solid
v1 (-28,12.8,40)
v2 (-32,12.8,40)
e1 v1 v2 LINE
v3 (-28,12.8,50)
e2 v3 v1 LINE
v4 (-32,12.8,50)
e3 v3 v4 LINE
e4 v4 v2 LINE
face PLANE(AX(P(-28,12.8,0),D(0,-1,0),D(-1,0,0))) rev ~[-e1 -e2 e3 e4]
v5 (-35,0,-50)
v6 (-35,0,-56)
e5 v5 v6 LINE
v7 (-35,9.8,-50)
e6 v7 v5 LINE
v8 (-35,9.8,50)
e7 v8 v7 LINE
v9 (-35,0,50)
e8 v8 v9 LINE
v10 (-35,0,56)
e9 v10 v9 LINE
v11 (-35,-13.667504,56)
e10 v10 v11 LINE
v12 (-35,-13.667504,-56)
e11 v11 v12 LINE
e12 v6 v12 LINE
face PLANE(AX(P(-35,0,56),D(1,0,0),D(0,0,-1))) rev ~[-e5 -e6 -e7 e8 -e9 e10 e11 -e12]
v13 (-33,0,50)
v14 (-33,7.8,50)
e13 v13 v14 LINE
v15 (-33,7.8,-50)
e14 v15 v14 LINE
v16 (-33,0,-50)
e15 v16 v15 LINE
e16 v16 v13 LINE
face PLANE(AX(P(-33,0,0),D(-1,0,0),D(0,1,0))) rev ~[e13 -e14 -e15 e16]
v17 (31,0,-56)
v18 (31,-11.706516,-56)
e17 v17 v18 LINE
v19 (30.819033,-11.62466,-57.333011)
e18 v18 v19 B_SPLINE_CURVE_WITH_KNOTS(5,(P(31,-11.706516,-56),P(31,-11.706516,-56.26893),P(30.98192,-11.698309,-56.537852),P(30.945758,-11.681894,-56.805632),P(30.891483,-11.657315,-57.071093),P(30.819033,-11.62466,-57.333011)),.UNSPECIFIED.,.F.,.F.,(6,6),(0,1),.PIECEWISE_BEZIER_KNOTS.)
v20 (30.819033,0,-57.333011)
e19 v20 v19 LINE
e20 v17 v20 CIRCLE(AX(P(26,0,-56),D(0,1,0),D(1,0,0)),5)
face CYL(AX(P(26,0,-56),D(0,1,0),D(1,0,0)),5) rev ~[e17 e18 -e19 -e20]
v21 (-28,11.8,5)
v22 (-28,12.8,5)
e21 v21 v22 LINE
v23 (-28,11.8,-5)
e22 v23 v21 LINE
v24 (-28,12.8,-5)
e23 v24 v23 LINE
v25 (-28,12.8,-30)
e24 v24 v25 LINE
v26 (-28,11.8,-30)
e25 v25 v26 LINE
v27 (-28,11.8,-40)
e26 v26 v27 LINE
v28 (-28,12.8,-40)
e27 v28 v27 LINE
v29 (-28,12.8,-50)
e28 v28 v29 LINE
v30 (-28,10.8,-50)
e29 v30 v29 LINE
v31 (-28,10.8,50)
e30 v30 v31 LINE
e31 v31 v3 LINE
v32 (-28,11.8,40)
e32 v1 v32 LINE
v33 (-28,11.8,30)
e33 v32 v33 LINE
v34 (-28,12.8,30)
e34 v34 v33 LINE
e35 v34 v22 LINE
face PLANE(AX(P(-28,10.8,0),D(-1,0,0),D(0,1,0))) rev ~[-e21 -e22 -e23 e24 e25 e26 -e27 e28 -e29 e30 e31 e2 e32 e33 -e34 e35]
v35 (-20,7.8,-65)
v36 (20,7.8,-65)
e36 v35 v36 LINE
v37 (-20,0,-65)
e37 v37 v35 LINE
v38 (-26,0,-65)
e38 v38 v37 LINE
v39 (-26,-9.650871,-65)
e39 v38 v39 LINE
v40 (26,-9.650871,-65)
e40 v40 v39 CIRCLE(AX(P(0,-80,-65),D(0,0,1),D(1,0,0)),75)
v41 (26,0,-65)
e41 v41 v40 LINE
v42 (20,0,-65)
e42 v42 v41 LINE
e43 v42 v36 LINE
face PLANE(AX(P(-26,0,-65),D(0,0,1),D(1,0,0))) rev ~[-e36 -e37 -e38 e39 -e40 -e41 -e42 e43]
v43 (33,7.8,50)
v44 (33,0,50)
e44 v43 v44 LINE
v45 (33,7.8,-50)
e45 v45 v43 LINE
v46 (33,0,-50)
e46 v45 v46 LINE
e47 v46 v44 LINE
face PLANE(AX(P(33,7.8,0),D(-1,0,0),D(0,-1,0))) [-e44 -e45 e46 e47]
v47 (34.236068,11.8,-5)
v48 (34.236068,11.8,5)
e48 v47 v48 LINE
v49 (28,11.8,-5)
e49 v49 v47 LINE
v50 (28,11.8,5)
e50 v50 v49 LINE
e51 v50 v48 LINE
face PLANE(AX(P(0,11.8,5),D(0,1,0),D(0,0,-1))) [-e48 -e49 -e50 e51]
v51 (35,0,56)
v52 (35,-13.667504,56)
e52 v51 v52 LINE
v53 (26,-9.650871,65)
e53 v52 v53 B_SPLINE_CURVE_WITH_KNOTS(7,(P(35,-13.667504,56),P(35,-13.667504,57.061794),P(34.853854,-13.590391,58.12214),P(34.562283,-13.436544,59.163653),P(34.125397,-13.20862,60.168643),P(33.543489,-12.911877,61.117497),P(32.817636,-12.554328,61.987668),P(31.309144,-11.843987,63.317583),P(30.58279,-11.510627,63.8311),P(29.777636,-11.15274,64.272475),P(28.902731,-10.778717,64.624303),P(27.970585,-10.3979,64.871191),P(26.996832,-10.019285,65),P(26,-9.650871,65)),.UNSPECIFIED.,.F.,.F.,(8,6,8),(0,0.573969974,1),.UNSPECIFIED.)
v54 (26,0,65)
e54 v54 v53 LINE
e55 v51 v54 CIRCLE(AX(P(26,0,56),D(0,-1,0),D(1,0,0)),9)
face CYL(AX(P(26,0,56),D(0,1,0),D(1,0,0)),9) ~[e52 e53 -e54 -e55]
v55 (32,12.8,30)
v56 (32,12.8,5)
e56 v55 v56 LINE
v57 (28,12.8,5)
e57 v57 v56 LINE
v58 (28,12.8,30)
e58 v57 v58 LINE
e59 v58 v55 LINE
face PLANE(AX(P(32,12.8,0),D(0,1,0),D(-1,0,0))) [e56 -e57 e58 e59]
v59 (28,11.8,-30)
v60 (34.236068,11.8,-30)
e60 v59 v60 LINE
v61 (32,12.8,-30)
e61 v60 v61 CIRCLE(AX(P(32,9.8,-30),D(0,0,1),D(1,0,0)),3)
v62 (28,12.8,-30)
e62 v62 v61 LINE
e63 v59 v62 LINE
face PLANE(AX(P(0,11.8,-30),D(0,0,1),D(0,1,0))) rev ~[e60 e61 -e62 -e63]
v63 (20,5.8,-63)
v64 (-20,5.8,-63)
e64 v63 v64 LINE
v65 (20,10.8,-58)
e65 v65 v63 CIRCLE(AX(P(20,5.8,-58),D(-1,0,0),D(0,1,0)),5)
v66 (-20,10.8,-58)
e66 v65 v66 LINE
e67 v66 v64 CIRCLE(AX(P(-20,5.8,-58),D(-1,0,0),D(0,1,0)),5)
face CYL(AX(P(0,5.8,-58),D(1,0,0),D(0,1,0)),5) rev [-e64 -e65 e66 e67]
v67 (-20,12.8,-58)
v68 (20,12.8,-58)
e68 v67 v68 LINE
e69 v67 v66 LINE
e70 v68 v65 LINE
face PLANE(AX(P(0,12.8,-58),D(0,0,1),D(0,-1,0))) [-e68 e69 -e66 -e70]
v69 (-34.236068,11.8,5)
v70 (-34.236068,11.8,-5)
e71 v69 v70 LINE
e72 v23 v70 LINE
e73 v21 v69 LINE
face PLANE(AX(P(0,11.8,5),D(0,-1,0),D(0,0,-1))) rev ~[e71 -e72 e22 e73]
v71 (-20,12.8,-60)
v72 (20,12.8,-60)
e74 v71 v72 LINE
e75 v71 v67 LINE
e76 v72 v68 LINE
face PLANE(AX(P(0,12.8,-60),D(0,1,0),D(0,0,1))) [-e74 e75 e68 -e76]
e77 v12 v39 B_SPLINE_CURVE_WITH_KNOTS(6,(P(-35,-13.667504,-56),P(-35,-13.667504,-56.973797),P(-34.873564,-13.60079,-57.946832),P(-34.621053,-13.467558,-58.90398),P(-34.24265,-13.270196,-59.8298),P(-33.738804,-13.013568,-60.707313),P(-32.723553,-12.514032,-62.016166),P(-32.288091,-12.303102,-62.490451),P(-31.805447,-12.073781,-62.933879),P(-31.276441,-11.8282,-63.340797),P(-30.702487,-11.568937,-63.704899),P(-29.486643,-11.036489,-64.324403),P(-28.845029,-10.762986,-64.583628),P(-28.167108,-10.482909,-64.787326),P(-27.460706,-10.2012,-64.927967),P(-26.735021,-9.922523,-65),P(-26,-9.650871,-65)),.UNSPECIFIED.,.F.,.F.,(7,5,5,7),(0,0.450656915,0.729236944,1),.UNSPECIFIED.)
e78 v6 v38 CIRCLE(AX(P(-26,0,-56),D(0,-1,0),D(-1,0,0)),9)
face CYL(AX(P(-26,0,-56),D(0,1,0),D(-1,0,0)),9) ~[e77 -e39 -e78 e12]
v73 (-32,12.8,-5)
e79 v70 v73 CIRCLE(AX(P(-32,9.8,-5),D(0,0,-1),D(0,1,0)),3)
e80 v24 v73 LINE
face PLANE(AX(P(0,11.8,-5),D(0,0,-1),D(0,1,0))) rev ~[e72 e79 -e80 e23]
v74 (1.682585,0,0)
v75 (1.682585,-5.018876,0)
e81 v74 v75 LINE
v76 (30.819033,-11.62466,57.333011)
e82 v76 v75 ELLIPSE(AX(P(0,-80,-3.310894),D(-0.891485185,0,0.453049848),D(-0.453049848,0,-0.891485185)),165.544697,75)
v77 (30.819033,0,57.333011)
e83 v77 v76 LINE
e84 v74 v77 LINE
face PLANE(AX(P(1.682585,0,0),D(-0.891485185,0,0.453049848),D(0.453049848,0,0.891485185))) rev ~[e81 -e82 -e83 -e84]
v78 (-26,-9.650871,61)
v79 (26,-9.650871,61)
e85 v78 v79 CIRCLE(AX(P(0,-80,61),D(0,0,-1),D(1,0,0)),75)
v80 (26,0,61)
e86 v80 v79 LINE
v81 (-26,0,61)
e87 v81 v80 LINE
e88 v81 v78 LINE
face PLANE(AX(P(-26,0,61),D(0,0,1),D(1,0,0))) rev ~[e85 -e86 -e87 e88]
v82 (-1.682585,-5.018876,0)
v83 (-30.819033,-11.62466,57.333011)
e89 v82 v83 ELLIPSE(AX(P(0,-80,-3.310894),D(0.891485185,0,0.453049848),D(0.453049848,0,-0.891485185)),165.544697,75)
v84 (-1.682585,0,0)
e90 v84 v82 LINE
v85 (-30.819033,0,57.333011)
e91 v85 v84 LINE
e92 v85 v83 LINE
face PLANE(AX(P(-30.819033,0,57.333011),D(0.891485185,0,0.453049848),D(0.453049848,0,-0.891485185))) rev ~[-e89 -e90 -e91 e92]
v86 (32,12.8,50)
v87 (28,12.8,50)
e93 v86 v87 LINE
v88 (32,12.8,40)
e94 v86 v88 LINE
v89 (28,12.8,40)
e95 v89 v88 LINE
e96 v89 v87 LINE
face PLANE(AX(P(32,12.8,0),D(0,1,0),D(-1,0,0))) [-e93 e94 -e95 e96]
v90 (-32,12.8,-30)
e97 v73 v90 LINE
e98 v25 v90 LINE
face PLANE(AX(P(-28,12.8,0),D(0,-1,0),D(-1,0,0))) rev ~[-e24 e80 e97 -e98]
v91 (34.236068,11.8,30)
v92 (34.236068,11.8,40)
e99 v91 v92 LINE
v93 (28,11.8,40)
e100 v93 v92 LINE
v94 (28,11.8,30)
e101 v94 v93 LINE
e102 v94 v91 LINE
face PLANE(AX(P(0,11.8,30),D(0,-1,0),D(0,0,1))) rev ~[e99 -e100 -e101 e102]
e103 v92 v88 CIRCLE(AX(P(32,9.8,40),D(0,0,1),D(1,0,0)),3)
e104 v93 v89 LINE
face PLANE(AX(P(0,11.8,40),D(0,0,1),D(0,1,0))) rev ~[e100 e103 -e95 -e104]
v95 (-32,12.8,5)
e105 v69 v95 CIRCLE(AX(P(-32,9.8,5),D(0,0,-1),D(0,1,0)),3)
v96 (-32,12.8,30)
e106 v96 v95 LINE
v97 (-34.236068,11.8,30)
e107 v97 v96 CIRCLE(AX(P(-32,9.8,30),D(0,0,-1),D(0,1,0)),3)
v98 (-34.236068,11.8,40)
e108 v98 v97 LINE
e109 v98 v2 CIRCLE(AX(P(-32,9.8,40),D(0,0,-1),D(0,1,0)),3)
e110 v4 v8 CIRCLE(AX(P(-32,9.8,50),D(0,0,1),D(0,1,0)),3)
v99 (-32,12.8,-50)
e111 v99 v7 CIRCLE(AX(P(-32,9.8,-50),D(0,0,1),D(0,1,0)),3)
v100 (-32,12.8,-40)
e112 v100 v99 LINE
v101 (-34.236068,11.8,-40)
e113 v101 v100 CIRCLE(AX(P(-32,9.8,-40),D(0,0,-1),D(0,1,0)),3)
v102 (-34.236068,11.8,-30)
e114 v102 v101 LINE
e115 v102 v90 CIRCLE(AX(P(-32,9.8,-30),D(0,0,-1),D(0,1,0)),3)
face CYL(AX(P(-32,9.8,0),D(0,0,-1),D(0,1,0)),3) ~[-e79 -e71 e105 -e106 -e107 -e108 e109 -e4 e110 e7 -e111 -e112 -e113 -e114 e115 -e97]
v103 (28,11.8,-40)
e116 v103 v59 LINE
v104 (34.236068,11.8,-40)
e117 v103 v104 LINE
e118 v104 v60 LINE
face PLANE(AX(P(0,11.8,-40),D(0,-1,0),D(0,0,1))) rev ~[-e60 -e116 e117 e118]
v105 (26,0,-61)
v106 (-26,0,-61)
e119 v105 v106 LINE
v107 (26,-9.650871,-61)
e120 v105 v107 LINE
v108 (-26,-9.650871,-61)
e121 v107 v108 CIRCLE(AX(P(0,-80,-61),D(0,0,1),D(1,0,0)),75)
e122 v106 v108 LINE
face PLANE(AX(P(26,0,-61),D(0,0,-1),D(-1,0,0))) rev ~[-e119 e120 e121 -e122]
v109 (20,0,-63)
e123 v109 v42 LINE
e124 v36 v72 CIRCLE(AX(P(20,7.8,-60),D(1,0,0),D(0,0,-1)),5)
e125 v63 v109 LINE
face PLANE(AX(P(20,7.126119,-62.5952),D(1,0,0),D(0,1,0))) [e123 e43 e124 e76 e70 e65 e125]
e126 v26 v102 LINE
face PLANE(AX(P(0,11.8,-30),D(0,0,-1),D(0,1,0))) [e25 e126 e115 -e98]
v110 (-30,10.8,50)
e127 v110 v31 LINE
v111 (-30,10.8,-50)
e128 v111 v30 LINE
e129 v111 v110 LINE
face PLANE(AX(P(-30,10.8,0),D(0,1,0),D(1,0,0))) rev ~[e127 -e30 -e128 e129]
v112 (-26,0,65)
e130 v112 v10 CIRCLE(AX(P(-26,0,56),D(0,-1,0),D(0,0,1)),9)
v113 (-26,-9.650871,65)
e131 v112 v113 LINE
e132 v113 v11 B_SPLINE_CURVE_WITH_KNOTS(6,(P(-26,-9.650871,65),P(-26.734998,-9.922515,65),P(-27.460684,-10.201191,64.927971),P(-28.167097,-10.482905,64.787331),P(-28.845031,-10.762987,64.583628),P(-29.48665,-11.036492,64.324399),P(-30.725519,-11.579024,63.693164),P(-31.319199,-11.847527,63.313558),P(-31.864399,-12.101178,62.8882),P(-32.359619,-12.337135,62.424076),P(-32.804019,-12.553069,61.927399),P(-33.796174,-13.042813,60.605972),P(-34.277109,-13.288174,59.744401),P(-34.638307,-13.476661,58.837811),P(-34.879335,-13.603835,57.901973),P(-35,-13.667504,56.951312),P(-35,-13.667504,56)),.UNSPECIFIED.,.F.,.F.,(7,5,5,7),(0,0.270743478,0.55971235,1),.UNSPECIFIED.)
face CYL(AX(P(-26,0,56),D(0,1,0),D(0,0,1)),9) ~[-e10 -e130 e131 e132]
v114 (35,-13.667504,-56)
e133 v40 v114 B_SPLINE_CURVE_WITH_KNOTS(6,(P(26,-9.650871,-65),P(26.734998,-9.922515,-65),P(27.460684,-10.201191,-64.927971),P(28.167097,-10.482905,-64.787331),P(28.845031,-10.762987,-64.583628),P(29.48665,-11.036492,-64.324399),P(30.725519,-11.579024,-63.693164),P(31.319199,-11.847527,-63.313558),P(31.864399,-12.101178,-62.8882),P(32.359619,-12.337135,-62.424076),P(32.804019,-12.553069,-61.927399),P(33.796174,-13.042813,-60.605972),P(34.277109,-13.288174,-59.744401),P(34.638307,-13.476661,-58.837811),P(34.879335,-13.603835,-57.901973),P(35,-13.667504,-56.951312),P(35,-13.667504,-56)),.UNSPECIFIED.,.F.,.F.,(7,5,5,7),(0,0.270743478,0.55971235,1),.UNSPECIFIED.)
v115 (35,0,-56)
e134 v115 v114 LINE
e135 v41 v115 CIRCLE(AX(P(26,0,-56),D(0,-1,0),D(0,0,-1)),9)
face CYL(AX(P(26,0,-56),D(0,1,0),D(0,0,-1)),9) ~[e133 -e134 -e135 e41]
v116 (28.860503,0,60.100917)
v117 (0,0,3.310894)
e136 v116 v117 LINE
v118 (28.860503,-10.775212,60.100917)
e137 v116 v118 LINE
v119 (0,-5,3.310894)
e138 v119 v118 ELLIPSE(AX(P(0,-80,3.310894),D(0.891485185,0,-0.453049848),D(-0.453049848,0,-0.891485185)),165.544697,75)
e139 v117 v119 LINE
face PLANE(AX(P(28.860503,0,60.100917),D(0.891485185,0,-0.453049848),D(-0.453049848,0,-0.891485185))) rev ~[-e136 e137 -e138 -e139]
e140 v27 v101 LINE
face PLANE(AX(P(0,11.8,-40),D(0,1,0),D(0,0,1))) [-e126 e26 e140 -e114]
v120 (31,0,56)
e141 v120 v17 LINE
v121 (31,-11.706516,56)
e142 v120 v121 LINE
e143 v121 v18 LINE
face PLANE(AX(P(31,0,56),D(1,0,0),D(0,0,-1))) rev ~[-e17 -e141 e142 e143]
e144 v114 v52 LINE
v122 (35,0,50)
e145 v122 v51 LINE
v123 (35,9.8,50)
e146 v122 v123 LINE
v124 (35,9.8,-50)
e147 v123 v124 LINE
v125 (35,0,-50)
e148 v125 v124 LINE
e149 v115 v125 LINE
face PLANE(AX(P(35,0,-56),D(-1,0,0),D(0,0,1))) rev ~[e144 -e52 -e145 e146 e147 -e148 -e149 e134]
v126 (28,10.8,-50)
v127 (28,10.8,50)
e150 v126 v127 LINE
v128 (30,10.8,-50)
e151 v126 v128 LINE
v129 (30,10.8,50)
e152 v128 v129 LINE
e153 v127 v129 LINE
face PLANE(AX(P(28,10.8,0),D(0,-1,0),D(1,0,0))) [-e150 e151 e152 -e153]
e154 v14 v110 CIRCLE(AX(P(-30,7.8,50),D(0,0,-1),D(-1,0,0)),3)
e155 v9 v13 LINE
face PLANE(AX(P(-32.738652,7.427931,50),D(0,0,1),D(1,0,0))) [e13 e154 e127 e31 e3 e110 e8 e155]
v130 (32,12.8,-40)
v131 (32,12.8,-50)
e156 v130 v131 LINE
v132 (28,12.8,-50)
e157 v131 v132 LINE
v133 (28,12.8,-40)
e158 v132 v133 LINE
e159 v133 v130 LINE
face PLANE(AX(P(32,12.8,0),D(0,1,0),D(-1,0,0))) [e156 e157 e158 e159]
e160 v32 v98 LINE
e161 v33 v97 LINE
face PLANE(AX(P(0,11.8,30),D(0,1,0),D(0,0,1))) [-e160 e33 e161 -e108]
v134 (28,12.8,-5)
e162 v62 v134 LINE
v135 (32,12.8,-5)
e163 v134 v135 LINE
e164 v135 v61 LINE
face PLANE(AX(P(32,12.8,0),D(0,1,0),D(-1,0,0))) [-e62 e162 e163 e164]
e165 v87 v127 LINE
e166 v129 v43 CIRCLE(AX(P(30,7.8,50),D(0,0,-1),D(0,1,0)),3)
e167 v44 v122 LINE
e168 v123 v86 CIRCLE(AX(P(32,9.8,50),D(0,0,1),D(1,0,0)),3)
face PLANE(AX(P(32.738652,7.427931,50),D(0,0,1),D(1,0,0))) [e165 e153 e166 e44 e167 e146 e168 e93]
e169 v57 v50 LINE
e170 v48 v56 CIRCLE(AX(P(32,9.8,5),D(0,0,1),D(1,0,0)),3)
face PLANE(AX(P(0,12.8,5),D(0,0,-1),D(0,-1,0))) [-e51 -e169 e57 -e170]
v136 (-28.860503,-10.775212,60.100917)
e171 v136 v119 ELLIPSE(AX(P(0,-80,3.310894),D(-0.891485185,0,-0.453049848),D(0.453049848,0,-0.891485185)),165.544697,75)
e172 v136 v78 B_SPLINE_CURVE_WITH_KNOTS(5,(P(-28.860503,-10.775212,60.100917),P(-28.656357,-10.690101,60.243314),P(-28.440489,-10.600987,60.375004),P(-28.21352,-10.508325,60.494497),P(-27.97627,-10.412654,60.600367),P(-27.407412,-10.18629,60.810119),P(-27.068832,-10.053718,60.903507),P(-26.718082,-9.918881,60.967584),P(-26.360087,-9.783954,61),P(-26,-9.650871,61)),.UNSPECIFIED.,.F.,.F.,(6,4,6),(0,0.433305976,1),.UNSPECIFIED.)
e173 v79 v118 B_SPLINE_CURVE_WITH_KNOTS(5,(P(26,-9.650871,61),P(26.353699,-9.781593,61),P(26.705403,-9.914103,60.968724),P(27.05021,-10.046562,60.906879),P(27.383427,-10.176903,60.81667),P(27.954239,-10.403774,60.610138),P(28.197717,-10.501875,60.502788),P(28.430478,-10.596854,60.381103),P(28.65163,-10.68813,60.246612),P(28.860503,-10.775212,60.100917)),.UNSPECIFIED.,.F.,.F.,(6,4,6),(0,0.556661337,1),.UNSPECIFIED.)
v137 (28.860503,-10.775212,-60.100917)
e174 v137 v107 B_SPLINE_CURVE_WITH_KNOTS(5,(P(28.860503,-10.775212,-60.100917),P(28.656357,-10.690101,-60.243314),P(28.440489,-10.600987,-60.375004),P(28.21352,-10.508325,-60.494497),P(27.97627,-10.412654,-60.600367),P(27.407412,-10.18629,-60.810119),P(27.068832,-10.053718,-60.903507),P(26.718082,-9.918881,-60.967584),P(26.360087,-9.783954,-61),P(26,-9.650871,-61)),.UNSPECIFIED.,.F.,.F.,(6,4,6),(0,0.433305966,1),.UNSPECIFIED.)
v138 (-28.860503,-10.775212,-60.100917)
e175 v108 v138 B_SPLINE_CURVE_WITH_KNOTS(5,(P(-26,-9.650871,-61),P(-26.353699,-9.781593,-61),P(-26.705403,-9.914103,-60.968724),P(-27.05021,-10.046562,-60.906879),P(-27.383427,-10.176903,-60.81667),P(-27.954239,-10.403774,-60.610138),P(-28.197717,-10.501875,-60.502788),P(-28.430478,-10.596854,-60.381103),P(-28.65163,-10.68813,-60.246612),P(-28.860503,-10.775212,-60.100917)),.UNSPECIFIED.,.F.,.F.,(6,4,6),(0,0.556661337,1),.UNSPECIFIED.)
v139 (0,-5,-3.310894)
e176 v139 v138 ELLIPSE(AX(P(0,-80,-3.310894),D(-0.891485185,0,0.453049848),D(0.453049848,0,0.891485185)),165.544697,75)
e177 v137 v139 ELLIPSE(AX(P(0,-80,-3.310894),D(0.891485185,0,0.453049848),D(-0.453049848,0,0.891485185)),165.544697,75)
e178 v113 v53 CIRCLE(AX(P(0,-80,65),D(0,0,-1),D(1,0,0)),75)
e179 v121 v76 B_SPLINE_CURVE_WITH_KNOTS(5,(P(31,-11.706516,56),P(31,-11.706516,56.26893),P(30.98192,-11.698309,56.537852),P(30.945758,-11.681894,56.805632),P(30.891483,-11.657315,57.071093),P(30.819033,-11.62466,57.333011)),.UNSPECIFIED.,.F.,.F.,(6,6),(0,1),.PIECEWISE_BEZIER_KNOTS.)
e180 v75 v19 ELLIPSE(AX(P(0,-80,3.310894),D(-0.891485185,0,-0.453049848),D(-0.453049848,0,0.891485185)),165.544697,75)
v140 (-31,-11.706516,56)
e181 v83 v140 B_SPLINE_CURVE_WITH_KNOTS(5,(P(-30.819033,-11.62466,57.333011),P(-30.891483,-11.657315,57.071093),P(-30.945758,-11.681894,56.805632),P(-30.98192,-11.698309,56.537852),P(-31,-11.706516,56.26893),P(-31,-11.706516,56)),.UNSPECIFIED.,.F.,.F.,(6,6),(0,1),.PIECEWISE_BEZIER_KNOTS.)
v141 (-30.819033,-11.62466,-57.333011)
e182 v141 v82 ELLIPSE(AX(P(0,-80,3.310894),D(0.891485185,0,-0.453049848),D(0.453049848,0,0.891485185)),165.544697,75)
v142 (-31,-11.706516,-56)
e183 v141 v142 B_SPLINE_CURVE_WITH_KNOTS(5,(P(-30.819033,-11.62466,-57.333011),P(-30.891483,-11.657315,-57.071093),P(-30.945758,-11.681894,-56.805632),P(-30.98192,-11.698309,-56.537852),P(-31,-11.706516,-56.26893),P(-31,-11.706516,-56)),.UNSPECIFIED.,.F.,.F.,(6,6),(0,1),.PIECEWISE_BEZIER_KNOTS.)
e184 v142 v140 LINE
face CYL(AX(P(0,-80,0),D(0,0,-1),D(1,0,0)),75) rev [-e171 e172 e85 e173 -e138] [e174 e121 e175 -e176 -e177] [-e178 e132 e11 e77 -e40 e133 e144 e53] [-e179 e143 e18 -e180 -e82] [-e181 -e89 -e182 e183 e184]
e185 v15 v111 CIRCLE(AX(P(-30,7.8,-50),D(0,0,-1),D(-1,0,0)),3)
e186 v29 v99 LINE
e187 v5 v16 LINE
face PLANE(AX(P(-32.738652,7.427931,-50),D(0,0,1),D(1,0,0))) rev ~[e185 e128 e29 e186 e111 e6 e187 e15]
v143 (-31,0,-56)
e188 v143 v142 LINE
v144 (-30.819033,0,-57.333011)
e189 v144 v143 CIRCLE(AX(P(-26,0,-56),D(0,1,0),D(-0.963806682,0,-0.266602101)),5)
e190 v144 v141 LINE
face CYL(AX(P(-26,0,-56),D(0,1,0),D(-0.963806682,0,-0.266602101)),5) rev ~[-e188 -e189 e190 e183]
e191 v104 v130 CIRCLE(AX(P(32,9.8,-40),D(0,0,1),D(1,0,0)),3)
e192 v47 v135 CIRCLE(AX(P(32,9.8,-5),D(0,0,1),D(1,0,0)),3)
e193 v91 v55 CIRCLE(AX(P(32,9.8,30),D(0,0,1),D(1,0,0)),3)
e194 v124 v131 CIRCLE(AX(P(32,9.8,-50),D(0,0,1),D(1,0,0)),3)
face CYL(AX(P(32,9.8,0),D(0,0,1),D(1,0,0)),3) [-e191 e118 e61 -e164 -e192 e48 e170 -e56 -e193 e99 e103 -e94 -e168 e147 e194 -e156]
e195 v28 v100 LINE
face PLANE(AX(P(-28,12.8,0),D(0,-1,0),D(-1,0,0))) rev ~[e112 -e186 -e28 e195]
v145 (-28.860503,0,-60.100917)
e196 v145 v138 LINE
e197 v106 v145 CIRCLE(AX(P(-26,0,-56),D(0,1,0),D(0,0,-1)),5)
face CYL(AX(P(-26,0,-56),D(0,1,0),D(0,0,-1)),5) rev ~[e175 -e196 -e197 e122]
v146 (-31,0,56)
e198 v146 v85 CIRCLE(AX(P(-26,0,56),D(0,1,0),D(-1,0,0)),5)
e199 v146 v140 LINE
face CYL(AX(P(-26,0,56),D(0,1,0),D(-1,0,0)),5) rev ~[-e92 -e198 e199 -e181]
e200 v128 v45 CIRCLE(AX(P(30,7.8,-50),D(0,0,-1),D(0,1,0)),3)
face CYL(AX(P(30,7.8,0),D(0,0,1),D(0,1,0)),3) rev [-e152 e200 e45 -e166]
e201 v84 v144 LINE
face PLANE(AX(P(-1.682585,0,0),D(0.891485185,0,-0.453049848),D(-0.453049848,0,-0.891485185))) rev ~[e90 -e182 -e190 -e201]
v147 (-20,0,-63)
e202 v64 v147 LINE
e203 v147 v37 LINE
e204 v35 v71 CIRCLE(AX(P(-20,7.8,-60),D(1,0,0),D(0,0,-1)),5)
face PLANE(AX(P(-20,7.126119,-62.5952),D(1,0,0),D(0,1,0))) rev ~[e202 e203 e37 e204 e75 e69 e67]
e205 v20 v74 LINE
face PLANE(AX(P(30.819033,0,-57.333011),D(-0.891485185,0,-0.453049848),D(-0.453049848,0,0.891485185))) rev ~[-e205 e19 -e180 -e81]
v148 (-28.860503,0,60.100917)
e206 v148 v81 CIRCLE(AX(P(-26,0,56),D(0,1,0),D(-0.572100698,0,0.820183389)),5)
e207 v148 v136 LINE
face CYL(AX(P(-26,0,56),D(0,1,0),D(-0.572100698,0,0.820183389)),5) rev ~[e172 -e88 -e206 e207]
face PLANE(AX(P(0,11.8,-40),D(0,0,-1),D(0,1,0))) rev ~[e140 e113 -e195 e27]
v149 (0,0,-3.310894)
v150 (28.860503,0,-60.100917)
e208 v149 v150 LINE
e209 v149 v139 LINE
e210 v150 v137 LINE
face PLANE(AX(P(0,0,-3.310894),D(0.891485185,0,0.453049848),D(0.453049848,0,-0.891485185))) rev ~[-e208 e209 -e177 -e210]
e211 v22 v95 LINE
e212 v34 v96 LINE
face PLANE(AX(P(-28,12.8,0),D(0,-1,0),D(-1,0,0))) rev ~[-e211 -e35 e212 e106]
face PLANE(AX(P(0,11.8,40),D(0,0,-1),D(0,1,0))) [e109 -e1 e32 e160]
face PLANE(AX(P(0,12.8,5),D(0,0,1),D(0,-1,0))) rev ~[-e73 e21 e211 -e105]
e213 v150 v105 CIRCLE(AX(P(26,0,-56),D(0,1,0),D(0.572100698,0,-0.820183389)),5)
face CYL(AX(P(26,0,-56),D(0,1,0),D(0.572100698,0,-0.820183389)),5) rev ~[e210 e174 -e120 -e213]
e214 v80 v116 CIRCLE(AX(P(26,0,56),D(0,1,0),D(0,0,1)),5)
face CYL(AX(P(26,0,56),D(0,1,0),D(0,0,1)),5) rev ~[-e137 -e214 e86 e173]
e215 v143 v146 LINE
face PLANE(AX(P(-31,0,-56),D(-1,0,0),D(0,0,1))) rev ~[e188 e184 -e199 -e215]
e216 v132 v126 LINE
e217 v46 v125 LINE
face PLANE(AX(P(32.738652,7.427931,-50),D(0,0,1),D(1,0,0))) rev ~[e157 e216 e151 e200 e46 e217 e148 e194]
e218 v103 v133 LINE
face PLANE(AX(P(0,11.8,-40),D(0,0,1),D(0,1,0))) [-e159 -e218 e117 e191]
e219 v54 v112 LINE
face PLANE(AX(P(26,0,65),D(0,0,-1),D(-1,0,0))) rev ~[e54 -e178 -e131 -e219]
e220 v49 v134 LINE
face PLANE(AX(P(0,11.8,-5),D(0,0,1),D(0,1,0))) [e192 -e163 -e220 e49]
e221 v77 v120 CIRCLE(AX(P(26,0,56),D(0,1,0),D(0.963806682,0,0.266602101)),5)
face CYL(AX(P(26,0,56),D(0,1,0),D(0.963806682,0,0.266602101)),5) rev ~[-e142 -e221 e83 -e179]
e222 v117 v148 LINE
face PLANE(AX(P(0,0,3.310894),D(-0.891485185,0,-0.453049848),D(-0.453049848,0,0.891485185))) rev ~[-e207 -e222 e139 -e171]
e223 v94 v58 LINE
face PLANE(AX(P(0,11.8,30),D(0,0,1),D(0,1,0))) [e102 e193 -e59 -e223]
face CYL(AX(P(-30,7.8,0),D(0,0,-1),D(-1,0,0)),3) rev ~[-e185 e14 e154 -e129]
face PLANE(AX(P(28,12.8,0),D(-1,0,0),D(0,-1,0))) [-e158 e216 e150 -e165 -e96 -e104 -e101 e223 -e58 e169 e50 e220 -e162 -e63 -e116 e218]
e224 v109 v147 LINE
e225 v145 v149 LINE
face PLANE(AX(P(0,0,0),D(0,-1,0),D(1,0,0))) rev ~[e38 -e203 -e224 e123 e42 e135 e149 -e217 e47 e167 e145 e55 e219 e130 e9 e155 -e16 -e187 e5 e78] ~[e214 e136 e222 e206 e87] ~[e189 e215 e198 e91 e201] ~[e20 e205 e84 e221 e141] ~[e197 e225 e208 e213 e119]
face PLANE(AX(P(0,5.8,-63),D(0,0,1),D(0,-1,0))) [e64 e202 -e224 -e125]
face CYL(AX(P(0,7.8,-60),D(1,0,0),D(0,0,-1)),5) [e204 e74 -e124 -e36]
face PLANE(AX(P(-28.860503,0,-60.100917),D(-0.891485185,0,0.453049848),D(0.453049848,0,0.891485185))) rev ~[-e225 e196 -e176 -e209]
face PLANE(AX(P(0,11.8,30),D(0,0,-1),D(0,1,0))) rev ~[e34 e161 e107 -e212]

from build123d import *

# Parameters (mm, degrees)
F1_DEPTH      = 25
F2_R          = 75
F3_DEPTH      = 65.001
F3_DEPTH_BACK = 65.001
F5_DEPTH      = 50
F7_DEPTH      = 20
F8_W          = 1
F8_H          = 10
F9_DEPTH      = 35.0010001
F9_DEPTH_BACK = 35.0010001


with BuildPart() as f1:
    # F0 (on Front) → F1 (new body)
    with BuildSketch(Plane.XZ):
        with BuildLine():
            Line((26, 65), (-26, 65))
            ThreePointArc((-26, 65), (-32.3639610307, 62.3639610307), (-35, 56))
            Line((-35, 56), (-35, -56))
            ThreePointArc((-35, -56), (-32.3639610307, -62.3639610307), (-26, -65))
            Line((-26, -65), (26, -65))
            ThreePointArc((26, -65), (32.3639610307, -62.3639610307), (35, -56))
            Line((35, -56), (35, 56))
            ThreePointArc((35, 56), (32.3639610307, 62.3639610307), (26, 65))
        make_face()
        with BuildLine():
            ThreePointArc((-28.8605034902, 60.1009169441), (-27.4992356852, 60.7699363057), (-26, 61))
            Line((-26, 61), (26, 61))
            ThreePointArc((26, 61), (27.4992356852, 60.7699363057), (28.8605034902, 60.1009169441))
            Line((28.8605034902, 60.1009169441), (29.6627722225, 61.6795747722))
            ThreePointArc((29.6627722225, 61.6795747722), (31.6795747722, 62.3372277775), (32.3372277775, 60.3204252278))
            Line((32.3372277775, 60.3204252278), (30.8190334092, 57.333010503))
            ThreePointArc((30.8190334092, 57.333010503), (30.9545517984, 56.6726191174), (31, 56))
            Line((31, 56), (31, -56))
            ThreePointArc((31, -56), (30.9545517984, -56.6726191174), (30.8190334092, -57.333010503))
            Line((30.8190334092, -57.333010503), (32.3372277775, -60.3204252278))
            ThreePointArc((32.3372277775, -60.3204252278), (31.6795747722, -62.3372277775), (29.6627722225, -61.6795747722))
            Line((29.6627722225, -61.6795747722), (28.8605034902, -60.1009169441))
            ThreePointArc((28.8605034902, -60.1009169441), (27.4992356852, -60.7699363057), (26, -61))
            Line((26, -61), (-26, -61))
            ThreePointArc((-26, -61), (-27.4992356852, -60.7699363057), (-28.8605034902, -60.1009169441))
            Line((-28.8605034902, -60.1009169441), (-29.6627722225, -61.6795747722))
            ThreePointArc((-29.6627722225, -61.6795747722), (-31.6795747722, -62.3372277775), (-32.3372277775, -60.3204252278))
            Line((-32.3372277775, -60.3204252278), (-30.8190334092, -57.333010503))
            ThreePointArc((-30.8190334092, -57.333010503), (-30.9545517984, -56.6726191174), (-31, -56))
            Line((-31, -56), (-31, 56))
            ThreePointArc((-31, 56), (-30.9545517984, 56.6726191174), (-30.8190334092, 57.333010503))
            Line((-30.8190334092, 57.333010503), (-32.3372277775, 60.3204252278))
            ThreePointArc((-32.3372277775, 60.3204252278), (-31.6795747722, 62.3372277775), (-29.6627722225, 61.6795747722))
            Line((-29.6627722225, 61.6795747722), (-28.8605034902, 60.1009169441))
        make_face(mode=Mode.SUBTRACT)
        with BuildLine():
            Line((-0.8412927243, -1.6554469737), (-1.6825854486, 0))
            Line((-1.6825854486, 0), (-30.8190334092, -57.333010503))
            ThreePointArc((-30.8190334092, -57.333010503), (-30.4840056321, -58.2121694083), (-29.9902146421, -59.0130030054))
            Line((-29.9902146421, -59.0130030054), (-0.8412927243, -1.6554469737))
        make_face()
        with BuildLine():
            Line((-0.8412927243, 1.6554469737), (-29.9902146421, 59.0130030054))
            ThreePointArc((-29.9902146421, 59.0130030054), (-30.4840056321, 58.2121694083), (-30.8190334092, 57.333010503))
            Line((-30.8190334092, 57.333010503), (-1.6825854486, 0))
            Line((-1.6825854486, 0), (-0.8412927243, 1.6554469737))
        make_face()
        with BuildLine():
            ThreePointArc((30.8190334092, 57.333010503), (30.4840056321, 58.2121694083), (29.9902146421, 59.0130030054))
            Line((29.9902146421, 59.0130030054), (0.8412927243, 1.6554469737))
            Line((0.8412927243, 1.6554469737), (1.6825854486, 0))
            Line((1.6825854486, 0), (30.8190334092, 57.333010503))
        make_face()
        with BuildLine():
            Line((30.8190334092, -57.333010503), (1.6825854486, 0))
            Line((1.6825854486, 0), (0.8412927243, -1.6554469737))
            Line((0.8412927243, -1.6554469737), (29.9902146421, -59.0130030054))
            ThreePointArc((29.9902146421, -59.0130030054), (30.4840056321, -58.2121694083), (30.8190334092, -57.333010503))
        make_face()
        with BuildLine():
            Line((0, -3.3108939473), (-0.8412927243, -1.6554469737))
            Line((-0.8412927243, -1.6554469737), (-29.9902146421, -59.0130030054))
            ThreePointArc((-29.9902146421, -59.0130030054), (-29.4682811184, -59.6015310749), (-28.8605034902, -60.1009169441))
            Line((-28.8605034902, -60.1009169441), (0, -3.3108939473))
        make_face()
        with BuildLine():
            Line((0, 3.3108939473), (-28.8605034902, 60.1009169441))
            ThreePointArc((-28.8605034902, 60.1009169441), (-29.4682811184, 59.6015310749), (-29.9902146421, 59.0130030054))
            Line((-29.9902146421, 59.0130030054), (-0.8412927243, 1.6554469737))
            Line((-0.8412927243, 1.6554469737), (0, 3.3108939473))
        make_face()
        with BuildLine():
            ThreePointArc((29.9902146421, 59.0130030054), (29.4682811184, 59.6015310749), (28.8605034902, 60.1009169441))
            Line((28.8605034902, 60.1009169441), (0, 3.3108939473))
            Line((0, 3.3108939473), (0.8412927243, 1.6554469737))
            Line((0.8412927243, 1.6554469737), (29.9902146421, 59.0130030054))
        make_face()
        with BuildLine():
            Line((29.9902146421, -59.0130030054), (0.8412927243, -1.6554469737))
            Line((0.8412927243, -1.6554469737), (0, -3.3108939473))
            Line((0, -3.3108939473), (28.8605034902, -60.1009169441))
            ThreePointArc((28.8605034902, -60.1009169441), (29.4682811184, -59.6015310749), (29.9902146421, -59.0130030054))
        make_face()
        with BuildLine():
            ThreePointArc((-29.9902146421, -59.0130030054), (-30.4840056321, -58.2121694083), (-30.8190334092, -57.333010503))
            Line((-30.8190334092, -57.333010503), (-32.3372277775, -60.3204252278))
            ThreePointArc((-32.3372277775, -60.3204252278), (-31.6795747722, -62.3372277775), (-29.6627722225, -61.6795747722))
            Line((-29.6627722225, -61.6795747722), (-28.8605034902, -60.1009169441))
            ThreePointArc((-28.8605034902, -60.1009169441), (-29.4682811184, -59.6015310749), (-29.9902146421, -59.0130030054))
        make_face()
        with BuildLine():
            ThreePointArc((-29.9902146421, 59.0130030054), (-29.4682811184, 59.6015310749), (-28.8605034902, 60.1009169441))
            Line((-28.8605034902, 60.1009169441), (-29.6627722225, 61.6795747722))
            ThreePointArc((-29.6627722225, 61.6795747722), (-31.6795747722, 62.3372277775), (-32.3372277775, 60.3204252278))
            Line((-32.3372277775, 60.3204252278), (-30.8190334092, 57.333010503))
            ThreePointArc((-30.8190334092, 57.333010503), (-30.4840056321, 58.2121694083), (-29.9902146421, 59.0130030054))
        make_face()
        with BuildLine():
            Line((29.6627722225, 61.6795747722), (28.8605034902, 60.1009169441))
            ThreePointArc((28.8605034902, 60.1009169441), (29.4682811184, 59.6015310749), (29.9902146421, 59.0130030054))
            ThreePointArc((29.9902146421, 59.0130030054), (30.4840056321, 58.2121694083), (30.8190334092, 57.333010503))
            Line((30.8190334092, 57.333010503), (32.3372277775, 60.3204252278))
            ThreePointArc((32.3372277775, 60.3204252278), (31.6795747722, 62.3372277775), (29.6627722225, 61.6795747722))
        make_face()
        with BuildLine():
            Line((32.3372277775, -60.3204252278), (30.8190334092, -57.333010503))
            ThreePointArc((30.8190334092, -57.333010503), (30.4840056321, -58.2121694083), (29.9902146421, -59.0130030054))
            ThreePointArc((29.9902146421, -59.0130030054), (29.4682811184, -59.6015310749), (28.8605034902, -60.1009169441))
            Line((28.8605034902, -60.1009169441), (29.6627722225, -61.6795747722))
            ThreePointArc((29.6627722225, -61.6795747722), (31.6795747722, -62.3372277775), (32.3372277775, -60.3204252278))
        make_face()
        Polygon((0.8412927243, 1.6554469737), (0, 3.3108939473), (-0.8412927243, 1.6554469737), (0, 0), align=None)
        Polygon((0, 0), (-0.8412927243, 1.6554469737), (-1.6825854486, 0), (-0.8412927243, -1.6554469737), align=None)
        Polygon((1.6825854486, 0), (0.8412927243, 1.6554469737), (0, 0), (0.8412927243, -1.6554469737), align=None)
        Polygon((0.8412927243, -1.6554469737), (0, 0), (-0.8412927243, -1.6554469737), (0, -3.3108939473), align=None)
    extrude(amount=F1_DEPTH)

    # F2 (on Top) → F3 (cut, two sides)
    with BuildSketch(Plane.XY) as f3_sk:
        with Locations((0, -80)):
            Circle(F2_R)
    extrude(amount=-F3_DEPTH, mode=Mode.SUBTRACT)
    extrude(f3_sk.sketch, amount=F3_DEPTH_BACK, mode=Mode.SUBTRACT)

    # F4 (on Top) → F5 (join, symmetric)
    with BuildSketch(Plane.XY):
        with BuildLine():
            Line((-35, 9.8), (-35, 0))
            Line((-35, 0), (-33, 0))
            Line((-33, 0), (-33, 7.8))
            ThreePointArc((-33, 7.8), (-32.1213203436, 9.9213203436), (-30, 10.8))
            Line((-30, 10.8), (-28, 10.8))
            Line((-28, 10.8), (-28, 12.8))
            Line((-28, 12.8), (-32, 12.8))
            ThreePointArc((-32, 12.8), (-34.1213203436, 11.9213203436), (-35, 9.8))
        make_face()
        with BuildLine():
            Line((32, 12.8), (28, 12.8))
            Line((28, 12.8), (28, 10.8))
            Line((28, 10.8), (30, 10.8))
            ThreePointArc((30, 10.8), (32.1213203436, 9.9213203436), (33, 7.8))
            Line((33, 7.8), (33, 0))
            Line((33, 0), (35, 0))
            Line((35, 0), (35, 9.8))
            ThreePointArc((35, 9.8), (34.1213203436, 11.9213203436), (32, 12.8))
        make_face()
    extrude(amount=F5_DEPTH, both=True)

    # F6 (on Right) → F7 (join, symmetric)
    with BuildSketch(Plane.YZ):
        with BuildLine():
            Line((0, -63), (0, -65))
            Line((0, -65), (7.8, -65))
            ThreePointArc((7.8, -65), (11.3355339059, -63.5355339059), (12.8, -60))
            Line((12.8, -60), (12.8, -58))
            Line((12.8, -58), (10.8, -58))
            ThreePointArc((10.8, -58), (9.3355339059, -61.5355339059), (5.8, -63))
            Line((5.8, -63), (0, -63))
        make_face()
    extrude(amount=F7_DEPTH, both=True)

    # F8 (on Right) → F9 (cut, two sides)
    with BuildSketch(Plane.YZ) as f9_sk:
        with Locations((12.3, 35)):
            Rectangle(F8_W, F8_H)
        with Locations((12.3, -35)):
            Rectangle(F8_W, F8_H)
        Polygon((12.8, 5), (11.8, 5), (11.8, -5), (12.8, -5), (12.8, 0), align=None)
    extrude(amount=-F9_DEPTH, mode=Mode.SUBTRACT)
    extrude(f9_sk.sketch, amount=F9_DEPTH_BACK, mode=Mode.SUBTRACT)


solid = f1.part
